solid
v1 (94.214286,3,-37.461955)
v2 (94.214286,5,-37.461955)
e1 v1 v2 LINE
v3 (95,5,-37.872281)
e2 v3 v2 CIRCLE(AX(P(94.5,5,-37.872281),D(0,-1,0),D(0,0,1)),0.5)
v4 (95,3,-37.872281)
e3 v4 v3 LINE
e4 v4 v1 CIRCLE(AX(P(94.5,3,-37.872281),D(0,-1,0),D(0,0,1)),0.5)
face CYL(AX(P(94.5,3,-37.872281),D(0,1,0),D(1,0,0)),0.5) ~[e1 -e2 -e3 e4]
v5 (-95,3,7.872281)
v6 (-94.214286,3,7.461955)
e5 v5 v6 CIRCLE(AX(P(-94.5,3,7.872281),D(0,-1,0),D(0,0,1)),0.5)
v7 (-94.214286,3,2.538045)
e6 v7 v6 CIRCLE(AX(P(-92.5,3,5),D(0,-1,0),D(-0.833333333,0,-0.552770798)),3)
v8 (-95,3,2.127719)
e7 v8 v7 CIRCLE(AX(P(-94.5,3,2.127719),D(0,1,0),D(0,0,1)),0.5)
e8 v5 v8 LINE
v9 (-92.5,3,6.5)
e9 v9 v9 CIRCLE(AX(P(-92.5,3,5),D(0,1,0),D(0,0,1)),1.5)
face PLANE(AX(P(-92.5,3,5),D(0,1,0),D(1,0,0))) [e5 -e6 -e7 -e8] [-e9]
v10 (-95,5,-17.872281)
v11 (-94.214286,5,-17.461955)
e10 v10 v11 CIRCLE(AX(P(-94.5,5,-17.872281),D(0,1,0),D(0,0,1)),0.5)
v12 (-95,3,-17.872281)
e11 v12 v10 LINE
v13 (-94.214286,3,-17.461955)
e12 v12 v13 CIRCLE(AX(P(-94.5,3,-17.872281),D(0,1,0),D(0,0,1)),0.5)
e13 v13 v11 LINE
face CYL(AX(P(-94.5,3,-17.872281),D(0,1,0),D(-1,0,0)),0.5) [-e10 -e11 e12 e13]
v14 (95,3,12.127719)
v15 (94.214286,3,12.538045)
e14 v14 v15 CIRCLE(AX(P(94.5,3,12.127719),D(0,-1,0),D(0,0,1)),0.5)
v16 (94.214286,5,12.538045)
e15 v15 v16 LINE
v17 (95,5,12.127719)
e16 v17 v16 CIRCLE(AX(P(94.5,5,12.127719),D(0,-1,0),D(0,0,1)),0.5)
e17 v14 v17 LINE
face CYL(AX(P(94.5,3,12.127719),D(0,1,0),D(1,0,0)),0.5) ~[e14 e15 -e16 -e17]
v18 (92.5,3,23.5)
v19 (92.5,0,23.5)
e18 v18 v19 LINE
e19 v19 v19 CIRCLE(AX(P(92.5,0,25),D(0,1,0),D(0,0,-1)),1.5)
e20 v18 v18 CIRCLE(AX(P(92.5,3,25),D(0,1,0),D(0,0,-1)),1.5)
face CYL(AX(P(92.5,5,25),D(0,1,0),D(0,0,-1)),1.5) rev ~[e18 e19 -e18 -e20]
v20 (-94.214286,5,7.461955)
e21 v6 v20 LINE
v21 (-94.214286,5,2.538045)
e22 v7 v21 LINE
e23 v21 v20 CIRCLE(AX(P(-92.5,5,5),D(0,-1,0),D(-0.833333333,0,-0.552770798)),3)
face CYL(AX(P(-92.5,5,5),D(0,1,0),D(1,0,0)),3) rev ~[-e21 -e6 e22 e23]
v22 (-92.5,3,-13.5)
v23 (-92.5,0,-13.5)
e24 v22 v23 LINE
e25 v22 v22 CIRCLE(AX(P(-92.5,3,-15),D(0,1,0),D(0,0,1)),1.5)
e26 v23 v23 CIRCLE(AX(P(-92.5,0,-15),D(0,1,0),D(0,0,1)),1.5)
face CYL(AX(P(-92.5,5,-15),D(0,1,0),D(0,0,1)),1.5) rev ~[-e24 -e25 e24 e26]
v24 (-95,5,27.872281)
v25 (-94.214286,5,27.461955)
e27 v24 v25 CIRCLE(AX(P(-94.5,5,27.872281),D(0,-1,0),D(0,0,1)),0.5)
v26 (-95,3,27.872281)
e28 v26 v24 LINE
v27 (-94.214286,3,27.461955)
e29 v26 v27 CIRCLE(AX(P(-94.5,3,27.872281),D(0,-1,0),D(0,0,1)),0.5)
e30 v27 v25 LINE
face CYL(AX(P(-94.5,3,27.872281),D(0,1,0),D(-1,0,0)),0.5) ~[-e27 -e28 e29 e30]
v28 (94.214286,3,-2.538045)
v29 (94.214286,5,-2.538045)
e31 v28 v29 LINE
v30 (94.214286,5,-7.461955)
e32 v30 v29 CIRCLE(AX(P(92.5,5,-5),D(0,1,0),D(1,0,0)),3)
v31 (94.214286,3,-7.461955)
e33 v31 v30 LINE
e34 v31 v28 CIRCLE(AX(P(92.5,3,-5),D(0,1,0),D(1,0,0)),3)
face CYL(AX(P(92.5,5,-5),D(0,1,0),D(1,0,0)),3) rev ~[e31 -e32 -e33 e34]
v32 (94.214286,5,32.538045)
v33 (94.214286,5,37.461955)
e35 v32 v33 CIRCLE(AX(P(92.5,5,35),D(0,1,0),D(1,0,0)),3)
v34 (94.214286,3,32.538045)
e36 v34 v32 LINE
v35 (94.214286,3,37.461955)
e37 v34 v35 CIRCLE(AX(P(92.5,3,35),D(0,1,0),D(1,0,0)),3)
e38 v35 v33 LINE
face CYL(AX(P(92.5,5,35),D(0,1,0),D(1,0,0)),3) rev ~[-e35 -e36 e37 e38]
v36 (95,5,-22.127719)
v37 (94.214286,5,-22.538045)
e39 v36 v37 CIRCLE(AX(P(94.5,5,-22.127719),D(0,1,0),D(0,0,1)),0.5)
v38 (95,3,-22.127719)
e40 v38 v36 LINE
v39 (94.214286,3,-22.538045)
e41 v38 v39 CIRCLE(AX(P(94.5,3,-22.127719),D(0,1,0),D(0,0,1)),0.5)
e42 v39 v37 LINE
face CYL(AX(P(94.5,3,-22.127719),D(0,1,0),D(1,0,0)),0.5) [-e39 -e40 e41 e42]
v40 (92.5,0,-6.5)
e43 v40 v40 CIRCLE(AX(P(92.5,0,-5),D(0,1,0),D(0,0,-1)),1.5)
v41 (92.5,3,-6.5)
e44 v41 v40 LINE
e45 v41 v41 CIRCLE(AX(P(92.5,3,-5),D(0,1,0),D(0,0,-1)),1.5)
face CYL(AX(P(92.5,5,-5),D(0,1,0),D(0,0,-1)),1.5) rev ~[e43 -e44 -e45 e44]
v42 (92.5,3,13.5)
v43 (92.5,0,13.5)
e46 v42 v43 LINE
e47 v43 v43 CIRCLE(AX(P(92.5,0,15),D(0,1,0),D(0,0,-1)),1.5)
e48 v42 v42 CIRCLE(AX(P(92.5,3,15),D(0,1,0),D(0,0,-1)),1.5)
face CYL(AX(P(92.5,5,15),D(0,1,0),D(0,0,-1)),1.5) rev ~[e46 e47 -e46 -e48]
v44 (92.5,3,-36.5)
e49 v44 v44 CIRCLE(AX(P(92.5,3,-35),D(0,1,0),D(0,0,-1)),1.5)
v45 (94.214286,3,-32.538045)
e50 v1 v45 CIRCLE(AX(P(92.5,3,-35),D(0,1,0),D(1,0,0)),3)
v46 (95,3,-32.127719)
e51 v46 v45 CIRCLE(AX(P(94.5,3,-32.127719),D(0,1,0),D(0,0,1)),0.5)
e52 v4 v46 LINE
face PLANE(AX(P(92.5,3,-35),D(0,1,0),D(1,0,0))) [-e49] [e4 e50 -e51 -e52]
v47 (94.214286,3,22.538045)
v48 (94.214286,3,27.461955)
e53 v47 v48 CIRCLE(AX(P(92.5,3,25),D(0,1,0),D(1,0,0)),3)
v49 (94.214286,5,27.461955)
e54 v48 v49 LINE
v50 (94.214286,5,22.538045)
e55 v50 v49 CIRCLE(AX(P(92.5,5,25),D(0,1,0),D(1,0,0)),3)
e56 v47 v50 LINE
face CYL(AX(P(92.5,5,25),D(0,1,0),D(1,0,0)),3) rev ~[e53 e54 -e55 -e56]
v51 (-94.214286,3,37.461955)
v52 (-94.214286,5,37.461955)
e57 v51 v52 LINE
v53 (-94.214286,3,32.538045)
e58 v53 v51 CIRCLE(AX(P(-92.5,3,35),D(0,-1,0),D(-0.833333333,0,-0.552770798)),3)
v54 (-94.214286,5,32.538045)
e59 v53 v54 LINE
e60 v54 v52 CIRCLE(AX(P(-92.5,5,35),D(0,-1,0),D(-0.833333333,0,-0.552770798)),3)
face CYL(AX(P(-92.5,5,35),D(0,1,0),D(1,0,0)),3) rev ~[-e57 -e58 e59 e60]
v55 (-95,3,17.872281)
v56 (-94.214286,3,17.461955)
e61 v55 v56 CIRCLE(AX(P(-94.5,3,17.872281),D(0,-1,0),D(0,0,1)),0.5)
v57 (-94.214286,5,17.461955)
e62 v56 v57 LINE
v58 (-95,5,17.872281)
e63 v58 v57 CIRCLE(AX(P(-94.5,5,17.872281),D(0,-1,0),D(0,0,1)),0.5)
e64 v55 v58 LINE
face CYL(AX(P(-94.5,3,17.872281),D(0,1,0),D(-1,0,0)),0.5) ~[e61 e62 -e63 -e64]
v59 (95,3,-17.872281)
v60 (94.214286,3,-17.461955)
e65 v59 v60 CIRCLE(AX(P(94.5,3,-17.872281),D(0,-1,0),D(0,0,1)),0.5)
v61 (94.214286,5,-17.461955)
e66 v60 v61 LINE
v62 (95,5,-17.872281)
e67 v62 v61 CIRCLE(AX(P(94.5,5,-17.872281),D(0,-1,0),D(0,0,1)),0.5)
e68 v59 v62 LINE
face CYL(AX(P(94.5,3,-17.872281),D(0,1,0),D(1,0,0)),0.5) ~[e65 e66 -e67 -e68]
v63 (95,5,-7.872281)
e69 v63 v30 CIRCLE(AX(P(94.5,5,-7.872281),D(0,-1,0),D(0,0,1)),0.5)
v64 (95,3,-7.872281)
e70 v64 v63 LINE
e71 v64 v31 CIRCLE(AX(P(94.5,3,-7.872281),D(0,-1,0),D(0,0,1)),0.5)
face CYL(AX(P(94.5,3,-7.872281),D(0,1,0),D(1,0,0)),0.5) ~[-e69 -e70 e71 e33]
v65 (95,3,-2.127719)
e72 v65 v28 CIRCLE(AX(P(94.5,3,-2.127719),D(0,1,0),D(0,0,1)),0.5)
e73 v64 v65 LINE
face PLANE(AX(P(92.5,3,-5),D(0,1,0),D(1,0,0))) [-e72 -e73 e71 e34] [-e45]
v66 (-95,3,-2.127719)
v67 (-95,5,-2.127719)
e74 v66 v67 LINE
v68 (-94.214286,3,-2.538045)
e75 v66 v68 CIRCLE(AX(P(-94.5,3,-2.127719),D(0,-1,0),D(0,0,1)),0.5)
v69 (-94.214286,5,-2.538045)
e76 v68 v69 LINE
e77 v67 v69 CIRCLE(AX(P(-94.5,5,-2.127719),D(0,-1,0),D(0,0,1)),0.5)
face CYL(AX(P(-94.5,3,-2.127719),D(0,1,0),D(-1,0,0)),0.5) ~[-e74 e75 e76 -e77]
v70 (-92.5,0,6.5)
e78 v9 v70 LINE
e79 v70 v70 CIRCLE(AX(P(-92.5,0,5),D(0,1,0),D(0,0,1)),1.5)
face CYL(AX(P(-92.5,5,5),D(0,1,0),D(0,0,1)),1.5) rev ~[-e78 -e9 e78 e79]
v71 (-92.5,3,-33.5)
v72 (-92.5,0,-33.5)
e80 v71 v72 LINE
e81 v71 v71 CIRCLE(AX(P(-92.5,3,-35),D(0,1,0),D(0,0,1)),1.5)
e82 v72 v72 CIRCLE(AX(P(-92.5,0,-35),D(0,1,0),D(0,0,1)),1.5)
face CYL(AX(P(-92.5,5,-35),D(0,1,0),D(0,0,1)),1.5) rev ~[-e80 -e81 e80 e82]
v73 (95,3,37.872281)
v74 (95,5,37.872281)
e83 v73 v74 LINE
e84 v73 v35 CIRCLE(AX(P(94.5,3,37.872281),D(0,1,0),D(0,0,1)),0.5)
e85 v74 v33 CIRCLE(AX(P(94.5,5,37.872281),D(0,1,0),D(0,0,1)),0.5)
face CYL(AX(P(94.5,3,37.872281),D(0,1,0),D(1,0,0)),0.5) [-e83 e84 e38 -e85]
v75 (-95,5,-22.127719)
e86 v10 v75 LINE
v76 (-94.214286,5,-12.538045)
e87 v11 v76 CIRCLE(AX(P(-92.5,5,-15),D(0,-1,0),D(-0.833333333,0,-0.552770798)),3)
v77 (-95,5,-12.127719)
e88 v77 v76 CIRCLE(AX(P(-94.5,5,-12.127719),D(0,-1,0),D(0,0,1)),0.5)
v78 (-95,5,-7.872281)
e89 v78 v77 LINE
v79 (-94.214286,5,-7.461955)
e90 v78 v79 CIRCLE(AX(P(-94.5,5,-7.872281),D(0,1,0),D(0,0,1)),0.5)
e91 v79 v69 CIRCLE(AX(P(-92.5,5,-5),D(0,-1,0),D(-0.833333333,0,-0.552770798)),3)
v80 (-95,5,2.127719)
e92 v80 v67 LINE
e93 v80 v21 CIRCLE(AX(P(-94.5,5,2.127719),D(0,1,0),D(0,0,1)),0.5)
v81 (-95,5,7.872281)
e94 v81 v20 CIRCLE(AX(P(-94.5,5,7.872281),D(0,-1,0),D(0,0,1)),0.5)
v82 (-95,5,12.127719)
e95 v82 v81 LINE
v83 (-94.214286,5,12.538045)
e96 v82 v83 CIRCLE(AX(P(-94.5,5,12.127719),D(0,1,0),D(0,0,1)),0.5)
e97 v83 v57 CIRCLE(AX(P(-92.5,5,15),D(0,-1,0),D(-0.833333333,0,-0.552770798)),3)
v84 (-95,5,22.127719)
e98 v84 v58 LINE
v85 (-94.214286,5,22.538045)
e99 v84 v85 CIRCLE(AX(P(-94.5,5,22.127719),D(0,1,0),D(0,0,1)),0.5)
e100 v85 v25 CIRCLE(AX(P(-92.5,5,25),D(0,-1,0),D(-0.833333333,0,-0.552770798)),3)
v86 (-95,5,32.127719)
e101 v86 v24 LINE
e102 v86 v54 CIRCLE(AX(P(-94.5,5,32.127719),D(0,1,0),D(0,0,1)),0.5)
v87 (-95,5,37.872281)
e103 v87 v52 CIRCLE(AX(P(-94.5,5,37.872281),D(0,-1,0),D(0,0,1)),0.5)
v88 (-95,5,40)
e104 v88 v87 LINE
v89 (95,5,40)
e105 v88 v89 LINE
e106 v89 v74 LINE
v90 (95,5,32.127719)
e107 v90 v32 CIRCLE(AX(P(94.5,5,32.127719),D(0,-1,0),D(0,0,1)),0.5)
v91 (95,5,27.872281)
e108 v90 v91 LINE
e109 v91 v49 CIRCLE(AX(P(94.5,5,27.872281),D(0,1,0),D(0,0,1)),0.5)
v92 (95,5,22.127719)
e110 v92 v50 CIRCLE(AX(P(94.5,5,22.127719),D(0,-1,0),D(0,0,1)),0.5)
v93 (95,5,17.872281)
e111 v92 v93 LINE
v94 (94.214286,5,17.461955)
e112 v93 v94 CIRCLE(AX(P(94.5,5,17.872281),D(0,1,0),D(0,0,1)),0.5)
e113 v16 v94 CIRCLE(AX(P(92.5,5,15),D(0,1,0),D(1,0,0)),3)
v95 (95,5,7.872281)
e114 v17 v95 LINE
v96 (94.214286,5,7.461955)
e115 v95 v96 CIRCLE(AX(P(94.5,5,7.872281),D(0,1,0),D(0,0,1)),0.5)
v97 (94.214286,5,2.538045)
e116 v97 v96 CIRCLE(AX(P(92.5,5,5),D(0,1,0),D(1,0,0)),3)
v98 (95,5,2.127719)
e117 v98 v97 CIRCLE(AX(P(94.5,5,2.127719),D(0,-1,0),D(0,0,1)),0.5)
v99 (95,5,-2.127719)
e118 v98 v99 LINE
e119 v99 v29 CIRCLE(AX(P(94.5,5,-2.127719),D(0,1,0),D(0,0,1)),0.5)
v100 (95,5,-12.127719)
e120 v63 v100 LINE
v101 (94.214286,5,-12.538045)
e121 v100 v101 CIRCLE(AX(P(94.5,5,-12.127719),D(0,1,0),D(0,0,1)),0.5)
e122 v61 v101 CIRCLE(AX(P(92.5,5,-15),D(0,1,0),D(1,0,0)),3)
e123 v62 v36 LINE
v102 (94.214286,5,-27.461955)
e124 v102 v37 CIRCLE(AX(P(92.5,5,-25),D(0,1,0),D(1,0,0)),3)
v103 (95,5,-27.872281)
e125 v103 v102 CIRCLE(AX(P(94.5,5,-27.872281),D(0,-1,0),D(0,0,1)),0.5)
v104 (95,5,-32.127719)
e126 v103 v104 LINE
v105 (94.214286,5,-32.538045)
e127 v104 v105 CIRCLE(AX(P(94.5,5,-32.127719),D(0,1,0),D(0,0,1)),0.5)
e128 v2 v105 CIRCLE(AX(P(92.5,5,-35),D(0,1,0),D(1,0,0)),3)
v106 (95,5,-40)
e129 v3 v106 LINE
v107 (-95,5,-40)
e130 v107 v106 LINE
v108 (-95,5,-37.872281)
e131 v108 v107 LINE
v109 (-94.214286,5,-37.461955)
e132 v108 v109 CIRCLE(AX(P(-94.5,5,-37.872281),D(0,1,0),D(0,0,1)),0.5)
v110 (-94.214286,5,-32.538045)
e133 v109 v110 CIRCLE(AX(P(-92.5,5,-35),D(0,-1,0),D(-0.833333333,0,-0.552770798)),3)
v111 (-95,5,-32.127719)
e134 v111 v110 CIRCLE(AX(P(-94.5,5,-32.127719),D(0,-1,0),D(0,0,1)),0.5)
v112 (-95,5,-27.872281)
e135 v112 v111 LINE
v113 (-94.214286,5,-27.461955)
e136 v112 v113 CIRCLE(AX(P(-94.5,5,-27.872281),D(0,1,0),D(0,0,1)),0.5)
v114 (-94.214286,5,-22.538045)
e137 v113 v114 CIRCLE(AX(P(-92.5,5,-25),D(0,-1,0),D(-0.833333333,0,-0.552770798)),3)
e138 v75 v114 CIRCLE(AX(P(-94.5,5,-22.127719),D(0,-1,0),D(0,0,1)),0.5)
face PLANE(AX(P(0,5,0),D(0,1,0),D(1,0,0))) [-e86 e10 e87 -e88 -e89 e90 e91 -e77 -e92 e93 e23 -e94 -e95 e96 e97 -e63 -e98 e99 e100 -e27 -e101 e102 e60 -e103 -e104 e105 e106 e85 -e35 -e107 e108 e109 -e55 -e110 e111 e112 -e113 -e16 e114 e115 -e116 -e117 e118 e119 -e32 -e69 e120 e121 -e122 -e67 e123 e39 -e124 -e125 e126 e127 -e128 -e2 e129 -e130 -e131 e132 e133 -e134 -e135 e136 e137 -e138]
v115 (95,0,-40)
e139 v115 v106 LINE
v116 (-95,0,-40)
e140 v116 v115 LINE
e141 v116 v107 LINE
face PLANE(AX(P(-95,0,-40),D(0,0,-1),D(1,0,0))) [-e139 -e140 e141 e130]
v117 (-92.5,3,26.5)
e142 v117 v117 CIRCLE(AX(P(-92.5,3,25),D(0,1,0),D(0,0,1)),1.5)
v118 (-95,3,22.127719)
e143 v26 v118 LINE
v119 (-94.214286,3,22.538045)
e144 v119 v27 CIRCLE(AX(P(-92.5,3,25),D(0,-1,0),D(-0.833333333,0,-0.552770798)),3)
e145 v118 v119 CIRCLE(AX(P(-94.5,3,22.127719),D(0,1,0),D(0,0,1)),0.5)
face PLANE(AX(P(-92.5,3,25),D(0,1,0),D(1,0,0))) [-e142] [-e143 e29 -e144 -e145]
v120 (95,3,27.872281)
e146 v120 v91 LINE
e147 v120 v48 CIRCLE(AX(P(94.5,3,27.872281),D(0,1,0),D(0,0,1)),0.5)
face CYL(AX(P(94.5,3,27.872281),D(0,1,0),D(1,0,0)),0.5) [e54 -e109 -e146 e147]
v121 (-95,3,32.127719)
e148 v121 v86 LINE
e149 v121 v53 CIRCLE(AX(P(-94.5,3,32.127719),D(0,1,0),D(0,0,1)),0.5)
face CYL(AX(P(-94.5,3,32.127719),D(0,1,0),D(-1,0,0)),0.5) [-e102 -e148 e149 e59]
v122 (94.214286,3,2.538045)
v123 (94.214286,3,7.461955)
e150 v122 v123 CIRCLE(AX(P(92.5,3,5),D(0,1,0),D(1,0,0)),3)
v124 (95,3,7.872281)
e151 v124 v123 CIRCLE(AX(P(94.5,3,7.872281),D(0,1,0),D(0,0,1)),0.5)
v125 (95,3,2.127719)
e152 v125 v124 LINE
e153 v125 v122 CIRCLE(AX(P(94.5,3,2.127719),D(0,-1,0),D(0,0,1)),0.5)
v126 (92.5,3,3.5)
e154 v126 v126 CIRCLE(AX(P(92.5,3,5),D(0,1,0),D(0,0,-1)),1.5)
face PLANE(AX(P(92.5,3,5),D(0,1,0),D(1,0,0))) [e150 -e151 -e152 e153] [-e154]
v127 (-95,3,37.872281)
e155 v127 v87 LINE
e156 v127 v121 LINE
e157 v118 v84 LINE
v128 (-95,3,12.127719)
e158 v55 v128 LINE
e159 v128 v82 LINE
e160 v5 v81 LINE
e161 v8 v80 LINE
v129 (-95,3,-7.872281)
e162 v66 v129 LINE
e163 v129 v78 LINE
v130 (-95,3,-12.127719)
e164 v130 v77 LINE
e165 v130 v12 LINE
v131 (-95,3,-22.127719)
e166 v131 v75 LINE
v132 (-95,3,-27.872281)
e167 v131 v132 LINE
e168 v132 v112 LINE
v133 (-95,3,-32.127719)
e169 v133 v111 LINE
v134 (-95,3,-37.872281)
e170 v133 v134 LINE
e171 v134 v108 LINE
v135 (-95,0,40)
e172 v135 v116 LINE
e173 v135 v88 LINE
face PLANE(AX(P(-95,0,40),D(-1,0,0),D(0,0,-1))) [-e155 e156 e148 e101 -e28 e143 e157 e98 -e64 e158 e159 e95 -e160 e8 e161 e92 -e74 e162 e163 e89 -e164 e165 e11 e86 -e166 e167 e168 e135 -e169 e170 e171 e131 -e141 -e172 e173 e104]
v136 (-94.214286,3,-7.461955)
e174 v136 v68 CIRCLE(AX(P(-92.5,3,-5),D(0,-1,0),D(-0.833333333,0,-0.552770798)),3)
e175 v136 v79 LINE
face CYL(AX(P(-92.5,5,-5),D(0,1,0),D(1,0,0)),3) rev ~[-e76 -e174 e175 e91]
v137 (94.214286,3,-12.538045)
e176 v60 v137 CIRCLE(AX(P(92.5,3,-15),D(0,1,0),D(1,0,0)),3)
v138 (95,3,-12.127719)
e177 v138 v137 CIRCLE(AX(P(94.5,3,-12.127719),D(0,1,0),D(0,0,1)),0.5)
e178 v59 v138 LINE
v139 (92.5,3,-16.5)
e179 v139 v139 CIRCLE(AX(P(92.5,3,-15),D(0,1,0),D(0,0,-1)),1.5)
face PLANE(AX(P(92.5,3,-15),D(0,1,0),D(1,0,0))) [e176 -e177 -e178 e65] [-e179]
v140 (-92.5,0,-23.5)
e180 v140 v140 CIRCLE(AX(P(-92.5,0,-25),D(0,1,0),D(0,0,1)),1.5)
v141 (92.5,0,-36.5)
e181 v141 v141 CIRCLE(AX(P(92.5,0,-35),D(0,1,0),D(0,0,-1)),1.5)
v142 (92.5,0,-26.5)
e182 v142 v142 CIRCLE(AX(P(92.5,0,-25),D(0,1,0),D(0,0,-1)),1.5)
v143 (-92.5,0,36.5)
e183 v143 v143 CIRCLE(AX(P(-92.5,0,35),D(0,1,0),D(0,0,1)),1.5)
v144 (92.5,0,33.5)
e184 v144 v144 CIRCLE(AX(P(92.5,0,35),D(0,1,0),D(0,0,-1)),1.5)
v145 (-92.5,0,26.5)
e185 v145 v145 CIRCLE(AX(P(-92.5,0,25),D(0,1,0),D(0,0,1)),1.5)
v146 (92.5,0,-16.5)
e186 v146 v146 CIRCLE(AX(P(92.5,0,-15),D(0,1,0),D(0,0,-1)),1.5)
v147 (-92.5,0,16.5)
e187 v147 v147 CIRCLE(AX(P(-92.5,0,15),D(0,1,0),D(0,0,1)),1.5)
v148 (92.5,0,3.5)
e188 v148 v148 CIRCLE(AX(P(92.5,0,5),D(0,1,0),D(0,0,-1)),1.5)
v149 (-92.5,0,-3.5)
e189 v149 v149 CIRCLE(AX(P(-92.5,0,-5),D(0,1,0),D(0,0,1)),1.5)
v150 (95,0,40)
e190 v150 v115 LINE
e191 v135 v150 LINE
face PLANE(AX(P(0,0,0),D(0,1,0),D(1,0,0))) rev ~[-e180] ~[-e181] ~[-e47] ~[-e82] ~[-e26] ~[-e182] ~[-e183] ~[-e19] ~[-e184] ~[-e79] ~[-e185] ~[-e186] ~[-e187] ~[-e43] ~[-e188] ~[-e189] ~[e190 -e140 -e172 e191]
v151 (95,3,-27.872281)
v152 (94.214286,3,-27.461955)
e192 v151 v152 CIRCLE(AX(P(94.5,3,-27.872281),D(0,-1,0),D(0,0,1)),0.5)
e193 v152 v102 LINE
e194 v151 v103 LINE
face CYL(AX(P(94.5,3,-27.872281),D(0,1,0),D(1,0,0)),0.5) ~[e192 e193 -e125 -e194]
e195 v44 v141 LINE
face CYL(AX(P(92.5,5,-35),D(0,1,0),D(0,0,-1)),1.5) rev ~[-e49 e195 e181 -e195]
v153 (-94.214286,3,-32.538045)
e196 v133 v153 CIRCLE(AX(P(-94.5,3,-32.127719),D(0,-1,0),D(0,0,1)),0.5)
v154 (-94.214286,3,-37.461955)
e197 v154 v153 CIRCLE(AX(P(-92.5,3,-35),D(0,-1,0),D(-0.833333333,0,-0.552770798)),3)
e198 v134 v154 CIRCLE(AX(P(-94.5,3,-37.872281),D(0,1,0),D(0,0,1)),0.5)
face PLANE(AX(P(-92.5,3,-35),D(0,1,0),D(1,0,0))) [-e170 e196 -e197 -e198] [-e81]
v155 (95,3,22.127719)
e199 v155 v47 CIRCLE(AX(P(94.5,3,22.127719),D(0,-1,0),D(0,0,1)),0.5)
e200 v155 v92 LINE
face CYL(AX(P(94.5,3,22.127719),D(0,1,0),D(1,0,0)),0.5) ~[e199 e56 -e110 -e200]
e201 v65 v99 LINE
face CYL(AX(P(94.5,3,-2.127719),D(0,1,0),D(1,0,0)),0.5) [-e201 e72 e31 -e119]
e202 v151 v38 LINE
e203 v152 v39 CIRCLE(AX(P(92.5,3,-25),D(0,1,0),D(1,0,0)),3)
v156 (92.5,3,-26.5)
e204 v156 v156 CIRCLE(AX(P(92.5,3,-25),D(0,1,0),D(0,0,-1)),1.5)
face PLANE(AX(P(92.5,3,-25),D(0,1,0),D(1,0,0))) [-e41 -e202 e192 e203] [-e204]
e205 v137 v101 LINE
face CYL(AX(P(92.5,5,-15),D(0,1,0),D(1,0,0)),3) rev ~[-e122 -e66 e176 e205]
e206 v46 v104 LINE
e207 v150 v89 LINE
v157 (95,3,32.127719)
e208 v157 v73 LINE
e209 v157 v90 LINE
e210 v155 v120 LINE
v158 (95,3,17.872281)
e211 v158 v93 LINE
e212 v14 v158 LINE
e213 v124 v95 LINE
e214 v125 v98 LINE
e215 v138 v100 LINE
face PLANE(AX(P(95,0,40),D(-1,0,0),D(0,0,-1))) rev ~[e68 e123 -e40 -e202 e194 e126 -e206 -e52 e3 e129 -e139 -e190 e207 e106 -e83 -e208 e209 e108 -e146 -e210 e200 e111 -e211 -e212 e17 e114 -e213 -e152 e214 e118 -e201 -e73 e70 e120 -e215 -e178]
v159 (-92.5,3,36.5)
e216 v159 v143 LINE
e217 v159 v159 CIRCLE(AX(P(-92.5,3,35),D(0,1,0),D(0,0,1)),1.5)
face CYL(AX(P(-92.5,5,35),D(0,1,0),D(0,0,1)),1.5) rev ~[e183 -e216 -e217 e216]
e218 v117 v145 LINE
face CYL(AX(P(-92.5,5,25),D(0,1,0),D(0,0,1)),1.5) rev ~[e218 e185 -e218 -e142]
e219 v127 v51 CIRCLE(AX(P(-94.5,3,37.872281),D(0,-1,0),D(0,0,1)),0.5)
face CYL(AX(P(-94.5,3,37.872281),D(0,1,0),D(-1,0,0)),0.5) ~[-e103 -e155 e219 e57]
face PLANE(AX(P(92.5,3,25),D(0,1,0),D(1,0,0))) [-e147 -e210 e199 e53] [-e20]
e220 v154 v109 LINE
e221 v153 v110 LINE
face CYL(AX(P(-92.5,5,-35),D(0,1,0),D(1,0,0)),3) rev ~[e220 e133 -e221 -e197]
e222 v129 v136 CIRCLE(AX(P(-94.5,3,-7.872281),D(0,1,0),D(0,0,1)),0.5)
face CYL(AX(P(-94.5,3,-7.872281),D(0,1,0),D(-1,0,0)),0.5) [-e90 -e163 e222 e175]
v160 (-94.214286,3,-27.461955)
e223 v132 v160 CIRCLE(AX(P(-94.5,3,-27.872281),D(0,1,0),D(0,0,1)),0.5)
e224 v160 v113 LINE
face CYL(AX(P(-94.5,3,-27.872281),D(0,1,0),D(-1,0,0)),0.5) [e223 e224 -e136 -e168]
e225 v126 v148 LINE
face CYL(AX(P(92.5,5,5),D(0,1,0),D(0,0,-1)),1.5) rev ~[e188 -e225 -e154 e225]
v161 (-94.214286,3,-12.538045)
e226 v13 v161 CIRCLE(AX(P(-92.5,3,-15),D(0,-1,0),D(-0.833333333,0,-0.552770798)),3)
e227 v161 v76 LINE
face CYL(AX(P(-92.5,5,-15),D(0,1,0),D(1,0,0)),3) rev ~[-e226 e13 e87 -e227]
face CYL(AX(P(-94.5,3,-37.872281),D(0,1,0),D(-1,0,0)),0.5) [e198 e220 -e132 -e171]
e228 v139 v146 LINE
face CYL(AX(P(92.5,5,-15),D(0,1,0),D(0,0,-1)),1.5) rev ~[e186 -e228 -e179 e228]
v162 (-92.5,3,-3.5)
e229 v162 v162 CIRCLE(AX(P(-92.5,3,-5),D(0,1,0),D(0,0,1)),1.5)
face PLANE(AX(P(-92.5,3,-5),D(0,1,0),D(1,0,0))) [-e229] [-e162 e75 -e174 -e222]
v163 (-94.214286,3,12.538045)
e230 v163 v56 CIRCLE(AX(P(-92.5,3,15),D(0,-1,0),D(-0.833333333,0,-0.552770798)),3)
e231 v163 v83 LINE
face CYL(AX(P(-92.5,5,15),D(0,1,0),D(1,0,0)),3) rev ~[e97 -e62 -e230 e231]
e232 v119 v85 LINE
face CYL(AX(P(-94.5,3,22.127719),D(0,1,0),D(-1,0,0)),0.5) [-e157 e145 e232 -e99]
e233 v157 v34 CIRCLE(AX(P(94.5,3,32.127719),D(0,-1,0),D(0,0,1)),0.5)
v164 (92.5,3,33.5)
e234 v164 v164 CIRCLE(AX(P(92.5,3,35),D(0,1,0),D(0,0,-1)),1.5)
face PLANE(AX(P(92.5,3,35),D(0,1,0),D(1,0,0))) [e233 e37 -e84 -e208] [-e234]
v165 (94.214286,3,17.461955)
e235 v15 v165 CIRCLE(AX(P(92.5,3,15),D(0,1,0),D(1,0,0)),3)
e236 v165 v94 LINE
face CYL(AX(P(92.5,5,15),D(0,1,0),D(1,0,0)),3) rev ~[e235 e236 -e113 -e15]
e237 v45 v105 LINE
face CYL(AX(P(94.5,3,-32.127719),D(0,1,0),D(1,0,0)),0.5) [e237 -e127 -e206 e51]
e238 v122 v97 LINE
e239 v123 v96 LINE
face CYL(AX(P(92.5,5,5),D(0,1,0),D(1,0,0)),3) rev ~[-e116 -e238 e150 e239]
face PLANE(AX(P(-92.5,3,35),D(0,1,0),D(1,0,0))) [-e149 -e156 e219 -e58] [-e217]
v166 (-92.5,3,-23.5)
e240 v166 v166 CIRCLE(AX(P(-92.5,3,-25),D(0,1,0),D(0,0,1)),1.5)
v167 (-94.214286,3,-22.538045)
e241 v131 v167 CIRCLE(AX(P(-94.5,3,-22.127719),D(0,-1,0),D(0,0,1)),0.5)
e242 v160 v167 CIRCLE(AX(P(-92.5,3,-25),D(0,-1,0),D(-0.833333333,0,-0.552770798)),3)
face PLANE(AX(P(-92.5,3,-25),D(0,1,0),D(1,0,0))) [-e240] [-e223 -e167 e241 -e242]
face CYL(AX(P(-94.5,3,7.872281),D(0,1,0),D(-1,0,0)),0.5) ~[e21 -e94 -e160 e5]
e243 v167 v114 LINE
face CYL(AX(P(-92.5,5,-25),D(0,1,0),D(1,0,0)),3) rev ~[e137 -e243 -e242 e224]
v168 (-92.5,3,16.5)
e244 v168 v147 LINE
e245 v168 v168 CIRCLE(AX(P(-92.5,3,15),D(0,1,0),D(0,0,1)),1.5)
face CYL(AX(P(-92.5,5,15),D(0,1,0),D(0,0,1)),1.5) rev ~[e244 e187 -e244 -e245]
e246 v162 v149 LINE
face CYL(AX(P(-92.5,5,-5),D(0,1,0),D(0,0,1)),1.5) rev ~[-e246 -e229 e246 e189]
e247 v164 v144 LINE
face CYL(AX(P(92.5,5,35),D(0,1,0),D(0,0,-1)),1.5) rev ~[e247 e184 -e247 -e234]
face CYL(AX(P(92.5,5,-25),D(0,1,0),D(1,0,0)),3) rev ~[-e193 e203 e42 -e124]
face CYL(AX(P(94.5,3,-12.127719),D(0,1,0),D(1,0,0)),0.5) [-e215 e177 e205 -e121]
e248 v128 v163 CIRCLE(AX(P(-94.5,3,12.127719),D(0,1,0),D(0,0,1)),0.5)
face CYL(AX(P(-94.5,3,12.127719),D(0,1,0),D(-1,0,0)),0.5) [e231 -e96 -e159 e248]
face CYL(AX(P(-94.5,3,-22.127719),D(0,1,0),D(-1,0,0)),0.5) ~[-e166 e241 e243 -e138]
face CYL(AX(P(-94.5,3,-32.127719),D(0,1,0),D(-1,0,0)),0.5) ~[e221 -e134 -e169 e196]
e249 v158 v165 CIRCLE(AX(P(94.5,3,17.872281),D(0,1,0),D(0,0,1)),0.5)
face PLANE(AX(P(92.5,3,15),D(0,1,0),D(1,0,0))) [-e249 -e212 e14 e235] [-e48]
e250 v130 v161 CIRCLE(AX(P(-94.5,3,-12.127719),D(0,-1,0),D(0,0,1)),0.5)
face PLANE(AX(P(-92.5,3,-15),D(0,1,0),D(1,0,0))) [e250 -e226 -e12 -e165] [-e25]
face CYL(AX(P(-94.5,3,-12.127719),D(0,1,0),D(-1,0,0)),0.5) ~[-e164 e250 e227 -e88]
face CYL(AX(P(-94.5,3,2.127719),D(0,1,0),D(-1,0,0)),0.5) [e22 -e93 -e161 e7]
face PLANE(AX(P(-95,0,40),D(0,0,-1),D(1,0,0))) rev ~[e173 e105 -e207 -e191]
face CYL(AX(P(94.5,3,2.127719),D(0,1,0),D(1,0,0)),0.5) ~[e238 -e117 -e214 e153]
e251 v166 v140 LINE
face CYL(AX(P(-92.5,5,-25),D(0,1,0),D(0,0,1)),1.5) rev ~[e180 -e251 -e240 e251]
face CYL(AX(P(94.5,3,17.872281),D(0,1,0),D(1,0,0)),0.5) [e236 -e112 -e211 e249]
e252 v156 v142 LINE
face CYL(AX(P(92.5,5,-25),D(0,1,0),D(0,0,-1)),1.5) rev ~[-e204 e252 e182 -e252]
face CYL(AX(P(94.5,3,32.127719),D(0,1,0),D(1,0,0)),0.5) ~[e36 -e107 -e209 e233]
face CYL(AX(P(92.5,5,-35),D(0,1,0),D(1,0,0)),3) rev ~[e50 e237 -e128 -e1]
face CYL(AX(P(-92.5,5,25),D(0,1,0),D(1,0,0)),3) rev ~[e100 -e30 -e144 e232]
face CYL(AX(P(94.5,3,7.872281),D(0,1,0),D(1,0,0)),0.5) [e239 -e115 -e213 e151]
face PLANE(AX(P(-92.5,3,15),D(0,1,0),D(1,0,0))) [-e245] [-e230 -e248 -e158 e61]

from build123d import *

# Parameters (mm, degrees)
SKETCH3_W           = 190
SKETCH3_H           = 80
BOSS_EXTRUDE1_DEPTH = 5
SKETCH4_R           = 1.5
CUT_EXTRUDE1_DEPTH  = 5
SKETCH5_R           = 3
SKETCH5_R_2         = 1.5
CUT_EXTRUDE2_DEPTH  = 2
FILLET1_R           = 0.5


with BuildPart() as part:
    # Sketch3 → Boss-Extrude1 (new body)
    with BuildSketch(Plane(origin=(0, 0, 0), x_dir=(1, 0, 0), z_dir=(0, 1, 0))):
        Rectangle(SKETCH3_W, SKETCH3_H)
    extrude(amount=BOSS_EXTRUDE1_DEPTH)

    # Sketch4 → Cut-Extrude1 (cut)
    with BuildSketch(Plane(origin=(0, 5, 0), x_dir=(1, 0, 0), z_dir=(0, 1, 0))):
        with Locations(Location((-92.5, 35, 0), (0, 0, 270))):
            Circle(SKETCH4_R)
        with Locations(Location((-92.5, 25, 0), (0, 0, 270))):
            Circle(SKETCH4_R)
        with Locations(Location((-92.5, 15, 0), (0, 0, 270))):
            Circle(SKETCH4_R)
        with Locations(Location((-92.5, 5, 0), (0, 0, 270))):
            Circle(SKETCH4_R)
        with Locations(Location((-92.5, -5, 0), (0, 0, 270))):
            Circle(SKETCH4_R)
        with Locations(Location((-92.5, -15, 0), (0, 0, 270))):
            Circle(SKETCH4_R)
        with Locations(Location((-92.5, -25, 0), (0, 0, 270))):
            Circle(SKETCH4_R)
        with Locations(Location((-92.5, -35, 0), (0, 0, 270))):
            Circle(SKETCH4_R)
        with Locations(Location((92.5, -35, 0), (0, 0, 90))):
            Circle(SKETCH4_R)
        with Locations(Location((92.5, -25, 0), (0, 0, 90))):
            Circle(SKETCH4_R)
        with Locations(Location((92.5, -15, 0), (0, 0, 90))):
            Circle(SKETCH4_R)
        with Locations(Location((92.5, -5, 0), (0, 0, 90))):
            Circle(SKETCH4_R)
        with Locations(Location((92.5, 5, 0), (0, 0, 90))):
            Circle(SKETCH4_R)
        with Locations(Location((92.5, 15, 0), (0, 0, 90))):
            Circle(SKETCH4_R)
        with Locations(Location((92.5, 35, 0), (0, 0, 90))):
            Circle(SKETCH4_R)
        with Locations(Location((92.5, 25, 0), (0, 0, 90))):
            Circle(SKETCH4_R)
    extrude(amount=-CUT_EXTRUDE1_DEPTH, mode=Mode.SUBTRACT)

    # Sketch5 → Cut-Extrude2 (cut)
    # profile 1 of 16: a face of its own
    with BuildSketch(Plane(origin=(0, 5, 0), x_dir=(1, 0, 0), z_dir=(0, 1, 0))):
        with Locations((-92.5, 35)):
            Circle(SKETCH5_R)
        with Locations(Location((-92.5, 35, 0), (0, 0, 270))):
            Circle(SKETCH5_R_2, mode=Mode.SUBTRACT)
    # profile 2 of 16: a face of its own
    with BuildSketch(Plane(origin=(0, 5, 0), x_dir=(1, 0, 0), z_dir=(0, 1, 0))):
        with Locations((92.5, 35)):
            Circle(SKETCH5_R)
        with Locations(Location((92.5, 35, 0), (0, 0, 270))):
            Circle(SKETCH5_R_2, mode=Mode.SUBTRACT)
    # profile 3 of 16: a face of its own
    with BuildSketch(Plane(origin=(0, 5, 0), x_dir=(1, 0, 0), z_dir=(0, 1, 0))):
        with Locations((-92.5, 25)):
            Circle(SKETCH5_R)
    # profile 4 of 16: a face of its own
    with BuildSketch(Plane(origin=(0, 5, 0), x_dir=(1, 0, 0), z_dir=(0, 1, 0))):
        with Locations((92.5, 25)):
            Circle(SKETCH5_R)
    # profile 5 of 16: a face of its own
    with BuildSketch(Plane(origin=(0, 5, 0), x_dir=(1, 0, 0), z_dir=(0, 1, 0))):
        with Locations((-92.5, 15)):
            Circle(SKETCH5_R)
    # profile 6 of 16: a face of its own
    with BuildSketch(Plane(origin=(0, 5, 0), x_dir=(1, 0, 0), z_dir=(0, 1, 0))):
        with Locations((92.5, 15)):
            Circle(SKETCH5_R)
    # profile 7 of 16: a face of its own
    with BuildSketch(Plane(origin=(0, 5, 0), x_dir=(1, 0, 0), z_dir=(0, 1, 0))):
        with Locations((-92.5, 5)):
            Circle(SKETCH5_R)
    # profile 8 of 16: a face of its own
    with BuildSketch(Plane(origin=(0, 5, 0), x_dir=(1, 0, 0), z_dir=(0, 1, 0))):
        with Locations((92.5, 5)):
            Circle(SKETCH5_R)
    # profile 9 of 16: a face of its own
    with BuildSketch(Plane(origin=(0, 5, 0), x_dir=(1, 0, 0), z_dir=(0, 1, 0))):
        with Locations((-92.5, -5)):
            Circle(SKETCH5_R)
    # profile 10 of 16: a face of its own
    with BuildSketch(Plane(origin=(0, 5, 0), x_dir=(1, 0, 0), z_dir=(0, 1, 0))):
        with Locations((92.5, -5)):
            Circle(SKETCH5_R)
    # profile 11 of 16: a face of its own
    with BuildSketch(Plane(origin=(0, 5, 0), x_dir=(1, 0, 0), z_dir=(0, 1, 0))):
        with Locations((-92.5, -15)):
            Circle(SKETCH5_R)
    # profile 12 of 16: a face of its own
    with BuildSketch(Plane(origin=(0, 5, 0), x_dir=(1, 0, 0), z_dir=(0, 1, 0))):
        with Locations((92.5, -15)):
            Circle(SKETCH5_R)
    # profile 13 of 16: a face of its own
    with BuildSketch(Plane(origin=(0, 5, 0), x_dir=(1, 0, 0), z_dir=(0, 1, 0))):
        with Locations((-92.5, -25)):
            Circle(SKETCH5_R)
    # profile 14 of 16: a face of its own
    with BuildSketch(Plane(origin=(0, 5, 0), x_dir=(1, 0, 0), z_dir=(0, 1, 0))):
        with Locations((92.5, -25)):
            Circle(SKETCH5_R)
    # profile 15 of 16: a face of its own
    with BuildSketch(Plane(origin=(0, 5, 0), x_dir=(1, 0, 0), z_dir=(0, 1, 0))):
        with Locations((-92.5, -35)):
            Circle(SKETCH5_R)
    # profile 16 of 16: a face of its own
    with BuildSketch(Plane(origin=(0, 5, 0), x_dir=(1, 0, 0), z_dir=(0, 1, 0))):
        with Locations((92.5, -35)):
            Circle(SKETCH5_R)
    extrude(amount=-CUT_EXTRUDE2_DEPTH, mode=Mode.SUBTRACT)

    # Fillet1
    fillet1_edges = [part.edges().sort_by_distance(p)[0] for p in [
        (-95, 4, -33.341687605),
        (-95, 4, -36.658312395),
        (-95, 4, 26.658312395),
        (-95, 4, 23.341687605),
        (-95, 4, 16.658312395),
        (-95, 4, 13.341687605),
        (-95, 4, 36.658312395),
        (-95, 4, 33.341687605),
        (-95, 4, -13.341687605),
        (-95, 4, -16.658312395),
        (-95, 4, -23.341687605),
        (-95, 4, -26.658312395),
        (-95, 4, 6.658312395),
        (-95, 4, 3.341687605),
        (-95, 4, -3.341687605),
        (-95, 4, -6.658312395),
        (95, 4, 13.341687605),
        (95, 4, 16.658312395),
        (95, 4, 3.341687605),
        (95, 4, 6.658312395),
        (95, 4, 33.341687605),
        (95, 4, 36.658312395),
        (95, 4, 23.341687605),
        (95, 4, 26.658312395),
        (95, 4, -26.658312395),
        (95, 4, -23.341687605),
        (95, 4, -36.658312395),
        (95, 4, -33.341687605),
        (95, 4, -6.658312395),
        (95, 4, -3.341687605),
        (95, 4, -16.658312395),
        (95, 4, -13.341687605),
    ]]
    fillet(fillet1_edges, radius=FILLET1_R)


solid = part.part
